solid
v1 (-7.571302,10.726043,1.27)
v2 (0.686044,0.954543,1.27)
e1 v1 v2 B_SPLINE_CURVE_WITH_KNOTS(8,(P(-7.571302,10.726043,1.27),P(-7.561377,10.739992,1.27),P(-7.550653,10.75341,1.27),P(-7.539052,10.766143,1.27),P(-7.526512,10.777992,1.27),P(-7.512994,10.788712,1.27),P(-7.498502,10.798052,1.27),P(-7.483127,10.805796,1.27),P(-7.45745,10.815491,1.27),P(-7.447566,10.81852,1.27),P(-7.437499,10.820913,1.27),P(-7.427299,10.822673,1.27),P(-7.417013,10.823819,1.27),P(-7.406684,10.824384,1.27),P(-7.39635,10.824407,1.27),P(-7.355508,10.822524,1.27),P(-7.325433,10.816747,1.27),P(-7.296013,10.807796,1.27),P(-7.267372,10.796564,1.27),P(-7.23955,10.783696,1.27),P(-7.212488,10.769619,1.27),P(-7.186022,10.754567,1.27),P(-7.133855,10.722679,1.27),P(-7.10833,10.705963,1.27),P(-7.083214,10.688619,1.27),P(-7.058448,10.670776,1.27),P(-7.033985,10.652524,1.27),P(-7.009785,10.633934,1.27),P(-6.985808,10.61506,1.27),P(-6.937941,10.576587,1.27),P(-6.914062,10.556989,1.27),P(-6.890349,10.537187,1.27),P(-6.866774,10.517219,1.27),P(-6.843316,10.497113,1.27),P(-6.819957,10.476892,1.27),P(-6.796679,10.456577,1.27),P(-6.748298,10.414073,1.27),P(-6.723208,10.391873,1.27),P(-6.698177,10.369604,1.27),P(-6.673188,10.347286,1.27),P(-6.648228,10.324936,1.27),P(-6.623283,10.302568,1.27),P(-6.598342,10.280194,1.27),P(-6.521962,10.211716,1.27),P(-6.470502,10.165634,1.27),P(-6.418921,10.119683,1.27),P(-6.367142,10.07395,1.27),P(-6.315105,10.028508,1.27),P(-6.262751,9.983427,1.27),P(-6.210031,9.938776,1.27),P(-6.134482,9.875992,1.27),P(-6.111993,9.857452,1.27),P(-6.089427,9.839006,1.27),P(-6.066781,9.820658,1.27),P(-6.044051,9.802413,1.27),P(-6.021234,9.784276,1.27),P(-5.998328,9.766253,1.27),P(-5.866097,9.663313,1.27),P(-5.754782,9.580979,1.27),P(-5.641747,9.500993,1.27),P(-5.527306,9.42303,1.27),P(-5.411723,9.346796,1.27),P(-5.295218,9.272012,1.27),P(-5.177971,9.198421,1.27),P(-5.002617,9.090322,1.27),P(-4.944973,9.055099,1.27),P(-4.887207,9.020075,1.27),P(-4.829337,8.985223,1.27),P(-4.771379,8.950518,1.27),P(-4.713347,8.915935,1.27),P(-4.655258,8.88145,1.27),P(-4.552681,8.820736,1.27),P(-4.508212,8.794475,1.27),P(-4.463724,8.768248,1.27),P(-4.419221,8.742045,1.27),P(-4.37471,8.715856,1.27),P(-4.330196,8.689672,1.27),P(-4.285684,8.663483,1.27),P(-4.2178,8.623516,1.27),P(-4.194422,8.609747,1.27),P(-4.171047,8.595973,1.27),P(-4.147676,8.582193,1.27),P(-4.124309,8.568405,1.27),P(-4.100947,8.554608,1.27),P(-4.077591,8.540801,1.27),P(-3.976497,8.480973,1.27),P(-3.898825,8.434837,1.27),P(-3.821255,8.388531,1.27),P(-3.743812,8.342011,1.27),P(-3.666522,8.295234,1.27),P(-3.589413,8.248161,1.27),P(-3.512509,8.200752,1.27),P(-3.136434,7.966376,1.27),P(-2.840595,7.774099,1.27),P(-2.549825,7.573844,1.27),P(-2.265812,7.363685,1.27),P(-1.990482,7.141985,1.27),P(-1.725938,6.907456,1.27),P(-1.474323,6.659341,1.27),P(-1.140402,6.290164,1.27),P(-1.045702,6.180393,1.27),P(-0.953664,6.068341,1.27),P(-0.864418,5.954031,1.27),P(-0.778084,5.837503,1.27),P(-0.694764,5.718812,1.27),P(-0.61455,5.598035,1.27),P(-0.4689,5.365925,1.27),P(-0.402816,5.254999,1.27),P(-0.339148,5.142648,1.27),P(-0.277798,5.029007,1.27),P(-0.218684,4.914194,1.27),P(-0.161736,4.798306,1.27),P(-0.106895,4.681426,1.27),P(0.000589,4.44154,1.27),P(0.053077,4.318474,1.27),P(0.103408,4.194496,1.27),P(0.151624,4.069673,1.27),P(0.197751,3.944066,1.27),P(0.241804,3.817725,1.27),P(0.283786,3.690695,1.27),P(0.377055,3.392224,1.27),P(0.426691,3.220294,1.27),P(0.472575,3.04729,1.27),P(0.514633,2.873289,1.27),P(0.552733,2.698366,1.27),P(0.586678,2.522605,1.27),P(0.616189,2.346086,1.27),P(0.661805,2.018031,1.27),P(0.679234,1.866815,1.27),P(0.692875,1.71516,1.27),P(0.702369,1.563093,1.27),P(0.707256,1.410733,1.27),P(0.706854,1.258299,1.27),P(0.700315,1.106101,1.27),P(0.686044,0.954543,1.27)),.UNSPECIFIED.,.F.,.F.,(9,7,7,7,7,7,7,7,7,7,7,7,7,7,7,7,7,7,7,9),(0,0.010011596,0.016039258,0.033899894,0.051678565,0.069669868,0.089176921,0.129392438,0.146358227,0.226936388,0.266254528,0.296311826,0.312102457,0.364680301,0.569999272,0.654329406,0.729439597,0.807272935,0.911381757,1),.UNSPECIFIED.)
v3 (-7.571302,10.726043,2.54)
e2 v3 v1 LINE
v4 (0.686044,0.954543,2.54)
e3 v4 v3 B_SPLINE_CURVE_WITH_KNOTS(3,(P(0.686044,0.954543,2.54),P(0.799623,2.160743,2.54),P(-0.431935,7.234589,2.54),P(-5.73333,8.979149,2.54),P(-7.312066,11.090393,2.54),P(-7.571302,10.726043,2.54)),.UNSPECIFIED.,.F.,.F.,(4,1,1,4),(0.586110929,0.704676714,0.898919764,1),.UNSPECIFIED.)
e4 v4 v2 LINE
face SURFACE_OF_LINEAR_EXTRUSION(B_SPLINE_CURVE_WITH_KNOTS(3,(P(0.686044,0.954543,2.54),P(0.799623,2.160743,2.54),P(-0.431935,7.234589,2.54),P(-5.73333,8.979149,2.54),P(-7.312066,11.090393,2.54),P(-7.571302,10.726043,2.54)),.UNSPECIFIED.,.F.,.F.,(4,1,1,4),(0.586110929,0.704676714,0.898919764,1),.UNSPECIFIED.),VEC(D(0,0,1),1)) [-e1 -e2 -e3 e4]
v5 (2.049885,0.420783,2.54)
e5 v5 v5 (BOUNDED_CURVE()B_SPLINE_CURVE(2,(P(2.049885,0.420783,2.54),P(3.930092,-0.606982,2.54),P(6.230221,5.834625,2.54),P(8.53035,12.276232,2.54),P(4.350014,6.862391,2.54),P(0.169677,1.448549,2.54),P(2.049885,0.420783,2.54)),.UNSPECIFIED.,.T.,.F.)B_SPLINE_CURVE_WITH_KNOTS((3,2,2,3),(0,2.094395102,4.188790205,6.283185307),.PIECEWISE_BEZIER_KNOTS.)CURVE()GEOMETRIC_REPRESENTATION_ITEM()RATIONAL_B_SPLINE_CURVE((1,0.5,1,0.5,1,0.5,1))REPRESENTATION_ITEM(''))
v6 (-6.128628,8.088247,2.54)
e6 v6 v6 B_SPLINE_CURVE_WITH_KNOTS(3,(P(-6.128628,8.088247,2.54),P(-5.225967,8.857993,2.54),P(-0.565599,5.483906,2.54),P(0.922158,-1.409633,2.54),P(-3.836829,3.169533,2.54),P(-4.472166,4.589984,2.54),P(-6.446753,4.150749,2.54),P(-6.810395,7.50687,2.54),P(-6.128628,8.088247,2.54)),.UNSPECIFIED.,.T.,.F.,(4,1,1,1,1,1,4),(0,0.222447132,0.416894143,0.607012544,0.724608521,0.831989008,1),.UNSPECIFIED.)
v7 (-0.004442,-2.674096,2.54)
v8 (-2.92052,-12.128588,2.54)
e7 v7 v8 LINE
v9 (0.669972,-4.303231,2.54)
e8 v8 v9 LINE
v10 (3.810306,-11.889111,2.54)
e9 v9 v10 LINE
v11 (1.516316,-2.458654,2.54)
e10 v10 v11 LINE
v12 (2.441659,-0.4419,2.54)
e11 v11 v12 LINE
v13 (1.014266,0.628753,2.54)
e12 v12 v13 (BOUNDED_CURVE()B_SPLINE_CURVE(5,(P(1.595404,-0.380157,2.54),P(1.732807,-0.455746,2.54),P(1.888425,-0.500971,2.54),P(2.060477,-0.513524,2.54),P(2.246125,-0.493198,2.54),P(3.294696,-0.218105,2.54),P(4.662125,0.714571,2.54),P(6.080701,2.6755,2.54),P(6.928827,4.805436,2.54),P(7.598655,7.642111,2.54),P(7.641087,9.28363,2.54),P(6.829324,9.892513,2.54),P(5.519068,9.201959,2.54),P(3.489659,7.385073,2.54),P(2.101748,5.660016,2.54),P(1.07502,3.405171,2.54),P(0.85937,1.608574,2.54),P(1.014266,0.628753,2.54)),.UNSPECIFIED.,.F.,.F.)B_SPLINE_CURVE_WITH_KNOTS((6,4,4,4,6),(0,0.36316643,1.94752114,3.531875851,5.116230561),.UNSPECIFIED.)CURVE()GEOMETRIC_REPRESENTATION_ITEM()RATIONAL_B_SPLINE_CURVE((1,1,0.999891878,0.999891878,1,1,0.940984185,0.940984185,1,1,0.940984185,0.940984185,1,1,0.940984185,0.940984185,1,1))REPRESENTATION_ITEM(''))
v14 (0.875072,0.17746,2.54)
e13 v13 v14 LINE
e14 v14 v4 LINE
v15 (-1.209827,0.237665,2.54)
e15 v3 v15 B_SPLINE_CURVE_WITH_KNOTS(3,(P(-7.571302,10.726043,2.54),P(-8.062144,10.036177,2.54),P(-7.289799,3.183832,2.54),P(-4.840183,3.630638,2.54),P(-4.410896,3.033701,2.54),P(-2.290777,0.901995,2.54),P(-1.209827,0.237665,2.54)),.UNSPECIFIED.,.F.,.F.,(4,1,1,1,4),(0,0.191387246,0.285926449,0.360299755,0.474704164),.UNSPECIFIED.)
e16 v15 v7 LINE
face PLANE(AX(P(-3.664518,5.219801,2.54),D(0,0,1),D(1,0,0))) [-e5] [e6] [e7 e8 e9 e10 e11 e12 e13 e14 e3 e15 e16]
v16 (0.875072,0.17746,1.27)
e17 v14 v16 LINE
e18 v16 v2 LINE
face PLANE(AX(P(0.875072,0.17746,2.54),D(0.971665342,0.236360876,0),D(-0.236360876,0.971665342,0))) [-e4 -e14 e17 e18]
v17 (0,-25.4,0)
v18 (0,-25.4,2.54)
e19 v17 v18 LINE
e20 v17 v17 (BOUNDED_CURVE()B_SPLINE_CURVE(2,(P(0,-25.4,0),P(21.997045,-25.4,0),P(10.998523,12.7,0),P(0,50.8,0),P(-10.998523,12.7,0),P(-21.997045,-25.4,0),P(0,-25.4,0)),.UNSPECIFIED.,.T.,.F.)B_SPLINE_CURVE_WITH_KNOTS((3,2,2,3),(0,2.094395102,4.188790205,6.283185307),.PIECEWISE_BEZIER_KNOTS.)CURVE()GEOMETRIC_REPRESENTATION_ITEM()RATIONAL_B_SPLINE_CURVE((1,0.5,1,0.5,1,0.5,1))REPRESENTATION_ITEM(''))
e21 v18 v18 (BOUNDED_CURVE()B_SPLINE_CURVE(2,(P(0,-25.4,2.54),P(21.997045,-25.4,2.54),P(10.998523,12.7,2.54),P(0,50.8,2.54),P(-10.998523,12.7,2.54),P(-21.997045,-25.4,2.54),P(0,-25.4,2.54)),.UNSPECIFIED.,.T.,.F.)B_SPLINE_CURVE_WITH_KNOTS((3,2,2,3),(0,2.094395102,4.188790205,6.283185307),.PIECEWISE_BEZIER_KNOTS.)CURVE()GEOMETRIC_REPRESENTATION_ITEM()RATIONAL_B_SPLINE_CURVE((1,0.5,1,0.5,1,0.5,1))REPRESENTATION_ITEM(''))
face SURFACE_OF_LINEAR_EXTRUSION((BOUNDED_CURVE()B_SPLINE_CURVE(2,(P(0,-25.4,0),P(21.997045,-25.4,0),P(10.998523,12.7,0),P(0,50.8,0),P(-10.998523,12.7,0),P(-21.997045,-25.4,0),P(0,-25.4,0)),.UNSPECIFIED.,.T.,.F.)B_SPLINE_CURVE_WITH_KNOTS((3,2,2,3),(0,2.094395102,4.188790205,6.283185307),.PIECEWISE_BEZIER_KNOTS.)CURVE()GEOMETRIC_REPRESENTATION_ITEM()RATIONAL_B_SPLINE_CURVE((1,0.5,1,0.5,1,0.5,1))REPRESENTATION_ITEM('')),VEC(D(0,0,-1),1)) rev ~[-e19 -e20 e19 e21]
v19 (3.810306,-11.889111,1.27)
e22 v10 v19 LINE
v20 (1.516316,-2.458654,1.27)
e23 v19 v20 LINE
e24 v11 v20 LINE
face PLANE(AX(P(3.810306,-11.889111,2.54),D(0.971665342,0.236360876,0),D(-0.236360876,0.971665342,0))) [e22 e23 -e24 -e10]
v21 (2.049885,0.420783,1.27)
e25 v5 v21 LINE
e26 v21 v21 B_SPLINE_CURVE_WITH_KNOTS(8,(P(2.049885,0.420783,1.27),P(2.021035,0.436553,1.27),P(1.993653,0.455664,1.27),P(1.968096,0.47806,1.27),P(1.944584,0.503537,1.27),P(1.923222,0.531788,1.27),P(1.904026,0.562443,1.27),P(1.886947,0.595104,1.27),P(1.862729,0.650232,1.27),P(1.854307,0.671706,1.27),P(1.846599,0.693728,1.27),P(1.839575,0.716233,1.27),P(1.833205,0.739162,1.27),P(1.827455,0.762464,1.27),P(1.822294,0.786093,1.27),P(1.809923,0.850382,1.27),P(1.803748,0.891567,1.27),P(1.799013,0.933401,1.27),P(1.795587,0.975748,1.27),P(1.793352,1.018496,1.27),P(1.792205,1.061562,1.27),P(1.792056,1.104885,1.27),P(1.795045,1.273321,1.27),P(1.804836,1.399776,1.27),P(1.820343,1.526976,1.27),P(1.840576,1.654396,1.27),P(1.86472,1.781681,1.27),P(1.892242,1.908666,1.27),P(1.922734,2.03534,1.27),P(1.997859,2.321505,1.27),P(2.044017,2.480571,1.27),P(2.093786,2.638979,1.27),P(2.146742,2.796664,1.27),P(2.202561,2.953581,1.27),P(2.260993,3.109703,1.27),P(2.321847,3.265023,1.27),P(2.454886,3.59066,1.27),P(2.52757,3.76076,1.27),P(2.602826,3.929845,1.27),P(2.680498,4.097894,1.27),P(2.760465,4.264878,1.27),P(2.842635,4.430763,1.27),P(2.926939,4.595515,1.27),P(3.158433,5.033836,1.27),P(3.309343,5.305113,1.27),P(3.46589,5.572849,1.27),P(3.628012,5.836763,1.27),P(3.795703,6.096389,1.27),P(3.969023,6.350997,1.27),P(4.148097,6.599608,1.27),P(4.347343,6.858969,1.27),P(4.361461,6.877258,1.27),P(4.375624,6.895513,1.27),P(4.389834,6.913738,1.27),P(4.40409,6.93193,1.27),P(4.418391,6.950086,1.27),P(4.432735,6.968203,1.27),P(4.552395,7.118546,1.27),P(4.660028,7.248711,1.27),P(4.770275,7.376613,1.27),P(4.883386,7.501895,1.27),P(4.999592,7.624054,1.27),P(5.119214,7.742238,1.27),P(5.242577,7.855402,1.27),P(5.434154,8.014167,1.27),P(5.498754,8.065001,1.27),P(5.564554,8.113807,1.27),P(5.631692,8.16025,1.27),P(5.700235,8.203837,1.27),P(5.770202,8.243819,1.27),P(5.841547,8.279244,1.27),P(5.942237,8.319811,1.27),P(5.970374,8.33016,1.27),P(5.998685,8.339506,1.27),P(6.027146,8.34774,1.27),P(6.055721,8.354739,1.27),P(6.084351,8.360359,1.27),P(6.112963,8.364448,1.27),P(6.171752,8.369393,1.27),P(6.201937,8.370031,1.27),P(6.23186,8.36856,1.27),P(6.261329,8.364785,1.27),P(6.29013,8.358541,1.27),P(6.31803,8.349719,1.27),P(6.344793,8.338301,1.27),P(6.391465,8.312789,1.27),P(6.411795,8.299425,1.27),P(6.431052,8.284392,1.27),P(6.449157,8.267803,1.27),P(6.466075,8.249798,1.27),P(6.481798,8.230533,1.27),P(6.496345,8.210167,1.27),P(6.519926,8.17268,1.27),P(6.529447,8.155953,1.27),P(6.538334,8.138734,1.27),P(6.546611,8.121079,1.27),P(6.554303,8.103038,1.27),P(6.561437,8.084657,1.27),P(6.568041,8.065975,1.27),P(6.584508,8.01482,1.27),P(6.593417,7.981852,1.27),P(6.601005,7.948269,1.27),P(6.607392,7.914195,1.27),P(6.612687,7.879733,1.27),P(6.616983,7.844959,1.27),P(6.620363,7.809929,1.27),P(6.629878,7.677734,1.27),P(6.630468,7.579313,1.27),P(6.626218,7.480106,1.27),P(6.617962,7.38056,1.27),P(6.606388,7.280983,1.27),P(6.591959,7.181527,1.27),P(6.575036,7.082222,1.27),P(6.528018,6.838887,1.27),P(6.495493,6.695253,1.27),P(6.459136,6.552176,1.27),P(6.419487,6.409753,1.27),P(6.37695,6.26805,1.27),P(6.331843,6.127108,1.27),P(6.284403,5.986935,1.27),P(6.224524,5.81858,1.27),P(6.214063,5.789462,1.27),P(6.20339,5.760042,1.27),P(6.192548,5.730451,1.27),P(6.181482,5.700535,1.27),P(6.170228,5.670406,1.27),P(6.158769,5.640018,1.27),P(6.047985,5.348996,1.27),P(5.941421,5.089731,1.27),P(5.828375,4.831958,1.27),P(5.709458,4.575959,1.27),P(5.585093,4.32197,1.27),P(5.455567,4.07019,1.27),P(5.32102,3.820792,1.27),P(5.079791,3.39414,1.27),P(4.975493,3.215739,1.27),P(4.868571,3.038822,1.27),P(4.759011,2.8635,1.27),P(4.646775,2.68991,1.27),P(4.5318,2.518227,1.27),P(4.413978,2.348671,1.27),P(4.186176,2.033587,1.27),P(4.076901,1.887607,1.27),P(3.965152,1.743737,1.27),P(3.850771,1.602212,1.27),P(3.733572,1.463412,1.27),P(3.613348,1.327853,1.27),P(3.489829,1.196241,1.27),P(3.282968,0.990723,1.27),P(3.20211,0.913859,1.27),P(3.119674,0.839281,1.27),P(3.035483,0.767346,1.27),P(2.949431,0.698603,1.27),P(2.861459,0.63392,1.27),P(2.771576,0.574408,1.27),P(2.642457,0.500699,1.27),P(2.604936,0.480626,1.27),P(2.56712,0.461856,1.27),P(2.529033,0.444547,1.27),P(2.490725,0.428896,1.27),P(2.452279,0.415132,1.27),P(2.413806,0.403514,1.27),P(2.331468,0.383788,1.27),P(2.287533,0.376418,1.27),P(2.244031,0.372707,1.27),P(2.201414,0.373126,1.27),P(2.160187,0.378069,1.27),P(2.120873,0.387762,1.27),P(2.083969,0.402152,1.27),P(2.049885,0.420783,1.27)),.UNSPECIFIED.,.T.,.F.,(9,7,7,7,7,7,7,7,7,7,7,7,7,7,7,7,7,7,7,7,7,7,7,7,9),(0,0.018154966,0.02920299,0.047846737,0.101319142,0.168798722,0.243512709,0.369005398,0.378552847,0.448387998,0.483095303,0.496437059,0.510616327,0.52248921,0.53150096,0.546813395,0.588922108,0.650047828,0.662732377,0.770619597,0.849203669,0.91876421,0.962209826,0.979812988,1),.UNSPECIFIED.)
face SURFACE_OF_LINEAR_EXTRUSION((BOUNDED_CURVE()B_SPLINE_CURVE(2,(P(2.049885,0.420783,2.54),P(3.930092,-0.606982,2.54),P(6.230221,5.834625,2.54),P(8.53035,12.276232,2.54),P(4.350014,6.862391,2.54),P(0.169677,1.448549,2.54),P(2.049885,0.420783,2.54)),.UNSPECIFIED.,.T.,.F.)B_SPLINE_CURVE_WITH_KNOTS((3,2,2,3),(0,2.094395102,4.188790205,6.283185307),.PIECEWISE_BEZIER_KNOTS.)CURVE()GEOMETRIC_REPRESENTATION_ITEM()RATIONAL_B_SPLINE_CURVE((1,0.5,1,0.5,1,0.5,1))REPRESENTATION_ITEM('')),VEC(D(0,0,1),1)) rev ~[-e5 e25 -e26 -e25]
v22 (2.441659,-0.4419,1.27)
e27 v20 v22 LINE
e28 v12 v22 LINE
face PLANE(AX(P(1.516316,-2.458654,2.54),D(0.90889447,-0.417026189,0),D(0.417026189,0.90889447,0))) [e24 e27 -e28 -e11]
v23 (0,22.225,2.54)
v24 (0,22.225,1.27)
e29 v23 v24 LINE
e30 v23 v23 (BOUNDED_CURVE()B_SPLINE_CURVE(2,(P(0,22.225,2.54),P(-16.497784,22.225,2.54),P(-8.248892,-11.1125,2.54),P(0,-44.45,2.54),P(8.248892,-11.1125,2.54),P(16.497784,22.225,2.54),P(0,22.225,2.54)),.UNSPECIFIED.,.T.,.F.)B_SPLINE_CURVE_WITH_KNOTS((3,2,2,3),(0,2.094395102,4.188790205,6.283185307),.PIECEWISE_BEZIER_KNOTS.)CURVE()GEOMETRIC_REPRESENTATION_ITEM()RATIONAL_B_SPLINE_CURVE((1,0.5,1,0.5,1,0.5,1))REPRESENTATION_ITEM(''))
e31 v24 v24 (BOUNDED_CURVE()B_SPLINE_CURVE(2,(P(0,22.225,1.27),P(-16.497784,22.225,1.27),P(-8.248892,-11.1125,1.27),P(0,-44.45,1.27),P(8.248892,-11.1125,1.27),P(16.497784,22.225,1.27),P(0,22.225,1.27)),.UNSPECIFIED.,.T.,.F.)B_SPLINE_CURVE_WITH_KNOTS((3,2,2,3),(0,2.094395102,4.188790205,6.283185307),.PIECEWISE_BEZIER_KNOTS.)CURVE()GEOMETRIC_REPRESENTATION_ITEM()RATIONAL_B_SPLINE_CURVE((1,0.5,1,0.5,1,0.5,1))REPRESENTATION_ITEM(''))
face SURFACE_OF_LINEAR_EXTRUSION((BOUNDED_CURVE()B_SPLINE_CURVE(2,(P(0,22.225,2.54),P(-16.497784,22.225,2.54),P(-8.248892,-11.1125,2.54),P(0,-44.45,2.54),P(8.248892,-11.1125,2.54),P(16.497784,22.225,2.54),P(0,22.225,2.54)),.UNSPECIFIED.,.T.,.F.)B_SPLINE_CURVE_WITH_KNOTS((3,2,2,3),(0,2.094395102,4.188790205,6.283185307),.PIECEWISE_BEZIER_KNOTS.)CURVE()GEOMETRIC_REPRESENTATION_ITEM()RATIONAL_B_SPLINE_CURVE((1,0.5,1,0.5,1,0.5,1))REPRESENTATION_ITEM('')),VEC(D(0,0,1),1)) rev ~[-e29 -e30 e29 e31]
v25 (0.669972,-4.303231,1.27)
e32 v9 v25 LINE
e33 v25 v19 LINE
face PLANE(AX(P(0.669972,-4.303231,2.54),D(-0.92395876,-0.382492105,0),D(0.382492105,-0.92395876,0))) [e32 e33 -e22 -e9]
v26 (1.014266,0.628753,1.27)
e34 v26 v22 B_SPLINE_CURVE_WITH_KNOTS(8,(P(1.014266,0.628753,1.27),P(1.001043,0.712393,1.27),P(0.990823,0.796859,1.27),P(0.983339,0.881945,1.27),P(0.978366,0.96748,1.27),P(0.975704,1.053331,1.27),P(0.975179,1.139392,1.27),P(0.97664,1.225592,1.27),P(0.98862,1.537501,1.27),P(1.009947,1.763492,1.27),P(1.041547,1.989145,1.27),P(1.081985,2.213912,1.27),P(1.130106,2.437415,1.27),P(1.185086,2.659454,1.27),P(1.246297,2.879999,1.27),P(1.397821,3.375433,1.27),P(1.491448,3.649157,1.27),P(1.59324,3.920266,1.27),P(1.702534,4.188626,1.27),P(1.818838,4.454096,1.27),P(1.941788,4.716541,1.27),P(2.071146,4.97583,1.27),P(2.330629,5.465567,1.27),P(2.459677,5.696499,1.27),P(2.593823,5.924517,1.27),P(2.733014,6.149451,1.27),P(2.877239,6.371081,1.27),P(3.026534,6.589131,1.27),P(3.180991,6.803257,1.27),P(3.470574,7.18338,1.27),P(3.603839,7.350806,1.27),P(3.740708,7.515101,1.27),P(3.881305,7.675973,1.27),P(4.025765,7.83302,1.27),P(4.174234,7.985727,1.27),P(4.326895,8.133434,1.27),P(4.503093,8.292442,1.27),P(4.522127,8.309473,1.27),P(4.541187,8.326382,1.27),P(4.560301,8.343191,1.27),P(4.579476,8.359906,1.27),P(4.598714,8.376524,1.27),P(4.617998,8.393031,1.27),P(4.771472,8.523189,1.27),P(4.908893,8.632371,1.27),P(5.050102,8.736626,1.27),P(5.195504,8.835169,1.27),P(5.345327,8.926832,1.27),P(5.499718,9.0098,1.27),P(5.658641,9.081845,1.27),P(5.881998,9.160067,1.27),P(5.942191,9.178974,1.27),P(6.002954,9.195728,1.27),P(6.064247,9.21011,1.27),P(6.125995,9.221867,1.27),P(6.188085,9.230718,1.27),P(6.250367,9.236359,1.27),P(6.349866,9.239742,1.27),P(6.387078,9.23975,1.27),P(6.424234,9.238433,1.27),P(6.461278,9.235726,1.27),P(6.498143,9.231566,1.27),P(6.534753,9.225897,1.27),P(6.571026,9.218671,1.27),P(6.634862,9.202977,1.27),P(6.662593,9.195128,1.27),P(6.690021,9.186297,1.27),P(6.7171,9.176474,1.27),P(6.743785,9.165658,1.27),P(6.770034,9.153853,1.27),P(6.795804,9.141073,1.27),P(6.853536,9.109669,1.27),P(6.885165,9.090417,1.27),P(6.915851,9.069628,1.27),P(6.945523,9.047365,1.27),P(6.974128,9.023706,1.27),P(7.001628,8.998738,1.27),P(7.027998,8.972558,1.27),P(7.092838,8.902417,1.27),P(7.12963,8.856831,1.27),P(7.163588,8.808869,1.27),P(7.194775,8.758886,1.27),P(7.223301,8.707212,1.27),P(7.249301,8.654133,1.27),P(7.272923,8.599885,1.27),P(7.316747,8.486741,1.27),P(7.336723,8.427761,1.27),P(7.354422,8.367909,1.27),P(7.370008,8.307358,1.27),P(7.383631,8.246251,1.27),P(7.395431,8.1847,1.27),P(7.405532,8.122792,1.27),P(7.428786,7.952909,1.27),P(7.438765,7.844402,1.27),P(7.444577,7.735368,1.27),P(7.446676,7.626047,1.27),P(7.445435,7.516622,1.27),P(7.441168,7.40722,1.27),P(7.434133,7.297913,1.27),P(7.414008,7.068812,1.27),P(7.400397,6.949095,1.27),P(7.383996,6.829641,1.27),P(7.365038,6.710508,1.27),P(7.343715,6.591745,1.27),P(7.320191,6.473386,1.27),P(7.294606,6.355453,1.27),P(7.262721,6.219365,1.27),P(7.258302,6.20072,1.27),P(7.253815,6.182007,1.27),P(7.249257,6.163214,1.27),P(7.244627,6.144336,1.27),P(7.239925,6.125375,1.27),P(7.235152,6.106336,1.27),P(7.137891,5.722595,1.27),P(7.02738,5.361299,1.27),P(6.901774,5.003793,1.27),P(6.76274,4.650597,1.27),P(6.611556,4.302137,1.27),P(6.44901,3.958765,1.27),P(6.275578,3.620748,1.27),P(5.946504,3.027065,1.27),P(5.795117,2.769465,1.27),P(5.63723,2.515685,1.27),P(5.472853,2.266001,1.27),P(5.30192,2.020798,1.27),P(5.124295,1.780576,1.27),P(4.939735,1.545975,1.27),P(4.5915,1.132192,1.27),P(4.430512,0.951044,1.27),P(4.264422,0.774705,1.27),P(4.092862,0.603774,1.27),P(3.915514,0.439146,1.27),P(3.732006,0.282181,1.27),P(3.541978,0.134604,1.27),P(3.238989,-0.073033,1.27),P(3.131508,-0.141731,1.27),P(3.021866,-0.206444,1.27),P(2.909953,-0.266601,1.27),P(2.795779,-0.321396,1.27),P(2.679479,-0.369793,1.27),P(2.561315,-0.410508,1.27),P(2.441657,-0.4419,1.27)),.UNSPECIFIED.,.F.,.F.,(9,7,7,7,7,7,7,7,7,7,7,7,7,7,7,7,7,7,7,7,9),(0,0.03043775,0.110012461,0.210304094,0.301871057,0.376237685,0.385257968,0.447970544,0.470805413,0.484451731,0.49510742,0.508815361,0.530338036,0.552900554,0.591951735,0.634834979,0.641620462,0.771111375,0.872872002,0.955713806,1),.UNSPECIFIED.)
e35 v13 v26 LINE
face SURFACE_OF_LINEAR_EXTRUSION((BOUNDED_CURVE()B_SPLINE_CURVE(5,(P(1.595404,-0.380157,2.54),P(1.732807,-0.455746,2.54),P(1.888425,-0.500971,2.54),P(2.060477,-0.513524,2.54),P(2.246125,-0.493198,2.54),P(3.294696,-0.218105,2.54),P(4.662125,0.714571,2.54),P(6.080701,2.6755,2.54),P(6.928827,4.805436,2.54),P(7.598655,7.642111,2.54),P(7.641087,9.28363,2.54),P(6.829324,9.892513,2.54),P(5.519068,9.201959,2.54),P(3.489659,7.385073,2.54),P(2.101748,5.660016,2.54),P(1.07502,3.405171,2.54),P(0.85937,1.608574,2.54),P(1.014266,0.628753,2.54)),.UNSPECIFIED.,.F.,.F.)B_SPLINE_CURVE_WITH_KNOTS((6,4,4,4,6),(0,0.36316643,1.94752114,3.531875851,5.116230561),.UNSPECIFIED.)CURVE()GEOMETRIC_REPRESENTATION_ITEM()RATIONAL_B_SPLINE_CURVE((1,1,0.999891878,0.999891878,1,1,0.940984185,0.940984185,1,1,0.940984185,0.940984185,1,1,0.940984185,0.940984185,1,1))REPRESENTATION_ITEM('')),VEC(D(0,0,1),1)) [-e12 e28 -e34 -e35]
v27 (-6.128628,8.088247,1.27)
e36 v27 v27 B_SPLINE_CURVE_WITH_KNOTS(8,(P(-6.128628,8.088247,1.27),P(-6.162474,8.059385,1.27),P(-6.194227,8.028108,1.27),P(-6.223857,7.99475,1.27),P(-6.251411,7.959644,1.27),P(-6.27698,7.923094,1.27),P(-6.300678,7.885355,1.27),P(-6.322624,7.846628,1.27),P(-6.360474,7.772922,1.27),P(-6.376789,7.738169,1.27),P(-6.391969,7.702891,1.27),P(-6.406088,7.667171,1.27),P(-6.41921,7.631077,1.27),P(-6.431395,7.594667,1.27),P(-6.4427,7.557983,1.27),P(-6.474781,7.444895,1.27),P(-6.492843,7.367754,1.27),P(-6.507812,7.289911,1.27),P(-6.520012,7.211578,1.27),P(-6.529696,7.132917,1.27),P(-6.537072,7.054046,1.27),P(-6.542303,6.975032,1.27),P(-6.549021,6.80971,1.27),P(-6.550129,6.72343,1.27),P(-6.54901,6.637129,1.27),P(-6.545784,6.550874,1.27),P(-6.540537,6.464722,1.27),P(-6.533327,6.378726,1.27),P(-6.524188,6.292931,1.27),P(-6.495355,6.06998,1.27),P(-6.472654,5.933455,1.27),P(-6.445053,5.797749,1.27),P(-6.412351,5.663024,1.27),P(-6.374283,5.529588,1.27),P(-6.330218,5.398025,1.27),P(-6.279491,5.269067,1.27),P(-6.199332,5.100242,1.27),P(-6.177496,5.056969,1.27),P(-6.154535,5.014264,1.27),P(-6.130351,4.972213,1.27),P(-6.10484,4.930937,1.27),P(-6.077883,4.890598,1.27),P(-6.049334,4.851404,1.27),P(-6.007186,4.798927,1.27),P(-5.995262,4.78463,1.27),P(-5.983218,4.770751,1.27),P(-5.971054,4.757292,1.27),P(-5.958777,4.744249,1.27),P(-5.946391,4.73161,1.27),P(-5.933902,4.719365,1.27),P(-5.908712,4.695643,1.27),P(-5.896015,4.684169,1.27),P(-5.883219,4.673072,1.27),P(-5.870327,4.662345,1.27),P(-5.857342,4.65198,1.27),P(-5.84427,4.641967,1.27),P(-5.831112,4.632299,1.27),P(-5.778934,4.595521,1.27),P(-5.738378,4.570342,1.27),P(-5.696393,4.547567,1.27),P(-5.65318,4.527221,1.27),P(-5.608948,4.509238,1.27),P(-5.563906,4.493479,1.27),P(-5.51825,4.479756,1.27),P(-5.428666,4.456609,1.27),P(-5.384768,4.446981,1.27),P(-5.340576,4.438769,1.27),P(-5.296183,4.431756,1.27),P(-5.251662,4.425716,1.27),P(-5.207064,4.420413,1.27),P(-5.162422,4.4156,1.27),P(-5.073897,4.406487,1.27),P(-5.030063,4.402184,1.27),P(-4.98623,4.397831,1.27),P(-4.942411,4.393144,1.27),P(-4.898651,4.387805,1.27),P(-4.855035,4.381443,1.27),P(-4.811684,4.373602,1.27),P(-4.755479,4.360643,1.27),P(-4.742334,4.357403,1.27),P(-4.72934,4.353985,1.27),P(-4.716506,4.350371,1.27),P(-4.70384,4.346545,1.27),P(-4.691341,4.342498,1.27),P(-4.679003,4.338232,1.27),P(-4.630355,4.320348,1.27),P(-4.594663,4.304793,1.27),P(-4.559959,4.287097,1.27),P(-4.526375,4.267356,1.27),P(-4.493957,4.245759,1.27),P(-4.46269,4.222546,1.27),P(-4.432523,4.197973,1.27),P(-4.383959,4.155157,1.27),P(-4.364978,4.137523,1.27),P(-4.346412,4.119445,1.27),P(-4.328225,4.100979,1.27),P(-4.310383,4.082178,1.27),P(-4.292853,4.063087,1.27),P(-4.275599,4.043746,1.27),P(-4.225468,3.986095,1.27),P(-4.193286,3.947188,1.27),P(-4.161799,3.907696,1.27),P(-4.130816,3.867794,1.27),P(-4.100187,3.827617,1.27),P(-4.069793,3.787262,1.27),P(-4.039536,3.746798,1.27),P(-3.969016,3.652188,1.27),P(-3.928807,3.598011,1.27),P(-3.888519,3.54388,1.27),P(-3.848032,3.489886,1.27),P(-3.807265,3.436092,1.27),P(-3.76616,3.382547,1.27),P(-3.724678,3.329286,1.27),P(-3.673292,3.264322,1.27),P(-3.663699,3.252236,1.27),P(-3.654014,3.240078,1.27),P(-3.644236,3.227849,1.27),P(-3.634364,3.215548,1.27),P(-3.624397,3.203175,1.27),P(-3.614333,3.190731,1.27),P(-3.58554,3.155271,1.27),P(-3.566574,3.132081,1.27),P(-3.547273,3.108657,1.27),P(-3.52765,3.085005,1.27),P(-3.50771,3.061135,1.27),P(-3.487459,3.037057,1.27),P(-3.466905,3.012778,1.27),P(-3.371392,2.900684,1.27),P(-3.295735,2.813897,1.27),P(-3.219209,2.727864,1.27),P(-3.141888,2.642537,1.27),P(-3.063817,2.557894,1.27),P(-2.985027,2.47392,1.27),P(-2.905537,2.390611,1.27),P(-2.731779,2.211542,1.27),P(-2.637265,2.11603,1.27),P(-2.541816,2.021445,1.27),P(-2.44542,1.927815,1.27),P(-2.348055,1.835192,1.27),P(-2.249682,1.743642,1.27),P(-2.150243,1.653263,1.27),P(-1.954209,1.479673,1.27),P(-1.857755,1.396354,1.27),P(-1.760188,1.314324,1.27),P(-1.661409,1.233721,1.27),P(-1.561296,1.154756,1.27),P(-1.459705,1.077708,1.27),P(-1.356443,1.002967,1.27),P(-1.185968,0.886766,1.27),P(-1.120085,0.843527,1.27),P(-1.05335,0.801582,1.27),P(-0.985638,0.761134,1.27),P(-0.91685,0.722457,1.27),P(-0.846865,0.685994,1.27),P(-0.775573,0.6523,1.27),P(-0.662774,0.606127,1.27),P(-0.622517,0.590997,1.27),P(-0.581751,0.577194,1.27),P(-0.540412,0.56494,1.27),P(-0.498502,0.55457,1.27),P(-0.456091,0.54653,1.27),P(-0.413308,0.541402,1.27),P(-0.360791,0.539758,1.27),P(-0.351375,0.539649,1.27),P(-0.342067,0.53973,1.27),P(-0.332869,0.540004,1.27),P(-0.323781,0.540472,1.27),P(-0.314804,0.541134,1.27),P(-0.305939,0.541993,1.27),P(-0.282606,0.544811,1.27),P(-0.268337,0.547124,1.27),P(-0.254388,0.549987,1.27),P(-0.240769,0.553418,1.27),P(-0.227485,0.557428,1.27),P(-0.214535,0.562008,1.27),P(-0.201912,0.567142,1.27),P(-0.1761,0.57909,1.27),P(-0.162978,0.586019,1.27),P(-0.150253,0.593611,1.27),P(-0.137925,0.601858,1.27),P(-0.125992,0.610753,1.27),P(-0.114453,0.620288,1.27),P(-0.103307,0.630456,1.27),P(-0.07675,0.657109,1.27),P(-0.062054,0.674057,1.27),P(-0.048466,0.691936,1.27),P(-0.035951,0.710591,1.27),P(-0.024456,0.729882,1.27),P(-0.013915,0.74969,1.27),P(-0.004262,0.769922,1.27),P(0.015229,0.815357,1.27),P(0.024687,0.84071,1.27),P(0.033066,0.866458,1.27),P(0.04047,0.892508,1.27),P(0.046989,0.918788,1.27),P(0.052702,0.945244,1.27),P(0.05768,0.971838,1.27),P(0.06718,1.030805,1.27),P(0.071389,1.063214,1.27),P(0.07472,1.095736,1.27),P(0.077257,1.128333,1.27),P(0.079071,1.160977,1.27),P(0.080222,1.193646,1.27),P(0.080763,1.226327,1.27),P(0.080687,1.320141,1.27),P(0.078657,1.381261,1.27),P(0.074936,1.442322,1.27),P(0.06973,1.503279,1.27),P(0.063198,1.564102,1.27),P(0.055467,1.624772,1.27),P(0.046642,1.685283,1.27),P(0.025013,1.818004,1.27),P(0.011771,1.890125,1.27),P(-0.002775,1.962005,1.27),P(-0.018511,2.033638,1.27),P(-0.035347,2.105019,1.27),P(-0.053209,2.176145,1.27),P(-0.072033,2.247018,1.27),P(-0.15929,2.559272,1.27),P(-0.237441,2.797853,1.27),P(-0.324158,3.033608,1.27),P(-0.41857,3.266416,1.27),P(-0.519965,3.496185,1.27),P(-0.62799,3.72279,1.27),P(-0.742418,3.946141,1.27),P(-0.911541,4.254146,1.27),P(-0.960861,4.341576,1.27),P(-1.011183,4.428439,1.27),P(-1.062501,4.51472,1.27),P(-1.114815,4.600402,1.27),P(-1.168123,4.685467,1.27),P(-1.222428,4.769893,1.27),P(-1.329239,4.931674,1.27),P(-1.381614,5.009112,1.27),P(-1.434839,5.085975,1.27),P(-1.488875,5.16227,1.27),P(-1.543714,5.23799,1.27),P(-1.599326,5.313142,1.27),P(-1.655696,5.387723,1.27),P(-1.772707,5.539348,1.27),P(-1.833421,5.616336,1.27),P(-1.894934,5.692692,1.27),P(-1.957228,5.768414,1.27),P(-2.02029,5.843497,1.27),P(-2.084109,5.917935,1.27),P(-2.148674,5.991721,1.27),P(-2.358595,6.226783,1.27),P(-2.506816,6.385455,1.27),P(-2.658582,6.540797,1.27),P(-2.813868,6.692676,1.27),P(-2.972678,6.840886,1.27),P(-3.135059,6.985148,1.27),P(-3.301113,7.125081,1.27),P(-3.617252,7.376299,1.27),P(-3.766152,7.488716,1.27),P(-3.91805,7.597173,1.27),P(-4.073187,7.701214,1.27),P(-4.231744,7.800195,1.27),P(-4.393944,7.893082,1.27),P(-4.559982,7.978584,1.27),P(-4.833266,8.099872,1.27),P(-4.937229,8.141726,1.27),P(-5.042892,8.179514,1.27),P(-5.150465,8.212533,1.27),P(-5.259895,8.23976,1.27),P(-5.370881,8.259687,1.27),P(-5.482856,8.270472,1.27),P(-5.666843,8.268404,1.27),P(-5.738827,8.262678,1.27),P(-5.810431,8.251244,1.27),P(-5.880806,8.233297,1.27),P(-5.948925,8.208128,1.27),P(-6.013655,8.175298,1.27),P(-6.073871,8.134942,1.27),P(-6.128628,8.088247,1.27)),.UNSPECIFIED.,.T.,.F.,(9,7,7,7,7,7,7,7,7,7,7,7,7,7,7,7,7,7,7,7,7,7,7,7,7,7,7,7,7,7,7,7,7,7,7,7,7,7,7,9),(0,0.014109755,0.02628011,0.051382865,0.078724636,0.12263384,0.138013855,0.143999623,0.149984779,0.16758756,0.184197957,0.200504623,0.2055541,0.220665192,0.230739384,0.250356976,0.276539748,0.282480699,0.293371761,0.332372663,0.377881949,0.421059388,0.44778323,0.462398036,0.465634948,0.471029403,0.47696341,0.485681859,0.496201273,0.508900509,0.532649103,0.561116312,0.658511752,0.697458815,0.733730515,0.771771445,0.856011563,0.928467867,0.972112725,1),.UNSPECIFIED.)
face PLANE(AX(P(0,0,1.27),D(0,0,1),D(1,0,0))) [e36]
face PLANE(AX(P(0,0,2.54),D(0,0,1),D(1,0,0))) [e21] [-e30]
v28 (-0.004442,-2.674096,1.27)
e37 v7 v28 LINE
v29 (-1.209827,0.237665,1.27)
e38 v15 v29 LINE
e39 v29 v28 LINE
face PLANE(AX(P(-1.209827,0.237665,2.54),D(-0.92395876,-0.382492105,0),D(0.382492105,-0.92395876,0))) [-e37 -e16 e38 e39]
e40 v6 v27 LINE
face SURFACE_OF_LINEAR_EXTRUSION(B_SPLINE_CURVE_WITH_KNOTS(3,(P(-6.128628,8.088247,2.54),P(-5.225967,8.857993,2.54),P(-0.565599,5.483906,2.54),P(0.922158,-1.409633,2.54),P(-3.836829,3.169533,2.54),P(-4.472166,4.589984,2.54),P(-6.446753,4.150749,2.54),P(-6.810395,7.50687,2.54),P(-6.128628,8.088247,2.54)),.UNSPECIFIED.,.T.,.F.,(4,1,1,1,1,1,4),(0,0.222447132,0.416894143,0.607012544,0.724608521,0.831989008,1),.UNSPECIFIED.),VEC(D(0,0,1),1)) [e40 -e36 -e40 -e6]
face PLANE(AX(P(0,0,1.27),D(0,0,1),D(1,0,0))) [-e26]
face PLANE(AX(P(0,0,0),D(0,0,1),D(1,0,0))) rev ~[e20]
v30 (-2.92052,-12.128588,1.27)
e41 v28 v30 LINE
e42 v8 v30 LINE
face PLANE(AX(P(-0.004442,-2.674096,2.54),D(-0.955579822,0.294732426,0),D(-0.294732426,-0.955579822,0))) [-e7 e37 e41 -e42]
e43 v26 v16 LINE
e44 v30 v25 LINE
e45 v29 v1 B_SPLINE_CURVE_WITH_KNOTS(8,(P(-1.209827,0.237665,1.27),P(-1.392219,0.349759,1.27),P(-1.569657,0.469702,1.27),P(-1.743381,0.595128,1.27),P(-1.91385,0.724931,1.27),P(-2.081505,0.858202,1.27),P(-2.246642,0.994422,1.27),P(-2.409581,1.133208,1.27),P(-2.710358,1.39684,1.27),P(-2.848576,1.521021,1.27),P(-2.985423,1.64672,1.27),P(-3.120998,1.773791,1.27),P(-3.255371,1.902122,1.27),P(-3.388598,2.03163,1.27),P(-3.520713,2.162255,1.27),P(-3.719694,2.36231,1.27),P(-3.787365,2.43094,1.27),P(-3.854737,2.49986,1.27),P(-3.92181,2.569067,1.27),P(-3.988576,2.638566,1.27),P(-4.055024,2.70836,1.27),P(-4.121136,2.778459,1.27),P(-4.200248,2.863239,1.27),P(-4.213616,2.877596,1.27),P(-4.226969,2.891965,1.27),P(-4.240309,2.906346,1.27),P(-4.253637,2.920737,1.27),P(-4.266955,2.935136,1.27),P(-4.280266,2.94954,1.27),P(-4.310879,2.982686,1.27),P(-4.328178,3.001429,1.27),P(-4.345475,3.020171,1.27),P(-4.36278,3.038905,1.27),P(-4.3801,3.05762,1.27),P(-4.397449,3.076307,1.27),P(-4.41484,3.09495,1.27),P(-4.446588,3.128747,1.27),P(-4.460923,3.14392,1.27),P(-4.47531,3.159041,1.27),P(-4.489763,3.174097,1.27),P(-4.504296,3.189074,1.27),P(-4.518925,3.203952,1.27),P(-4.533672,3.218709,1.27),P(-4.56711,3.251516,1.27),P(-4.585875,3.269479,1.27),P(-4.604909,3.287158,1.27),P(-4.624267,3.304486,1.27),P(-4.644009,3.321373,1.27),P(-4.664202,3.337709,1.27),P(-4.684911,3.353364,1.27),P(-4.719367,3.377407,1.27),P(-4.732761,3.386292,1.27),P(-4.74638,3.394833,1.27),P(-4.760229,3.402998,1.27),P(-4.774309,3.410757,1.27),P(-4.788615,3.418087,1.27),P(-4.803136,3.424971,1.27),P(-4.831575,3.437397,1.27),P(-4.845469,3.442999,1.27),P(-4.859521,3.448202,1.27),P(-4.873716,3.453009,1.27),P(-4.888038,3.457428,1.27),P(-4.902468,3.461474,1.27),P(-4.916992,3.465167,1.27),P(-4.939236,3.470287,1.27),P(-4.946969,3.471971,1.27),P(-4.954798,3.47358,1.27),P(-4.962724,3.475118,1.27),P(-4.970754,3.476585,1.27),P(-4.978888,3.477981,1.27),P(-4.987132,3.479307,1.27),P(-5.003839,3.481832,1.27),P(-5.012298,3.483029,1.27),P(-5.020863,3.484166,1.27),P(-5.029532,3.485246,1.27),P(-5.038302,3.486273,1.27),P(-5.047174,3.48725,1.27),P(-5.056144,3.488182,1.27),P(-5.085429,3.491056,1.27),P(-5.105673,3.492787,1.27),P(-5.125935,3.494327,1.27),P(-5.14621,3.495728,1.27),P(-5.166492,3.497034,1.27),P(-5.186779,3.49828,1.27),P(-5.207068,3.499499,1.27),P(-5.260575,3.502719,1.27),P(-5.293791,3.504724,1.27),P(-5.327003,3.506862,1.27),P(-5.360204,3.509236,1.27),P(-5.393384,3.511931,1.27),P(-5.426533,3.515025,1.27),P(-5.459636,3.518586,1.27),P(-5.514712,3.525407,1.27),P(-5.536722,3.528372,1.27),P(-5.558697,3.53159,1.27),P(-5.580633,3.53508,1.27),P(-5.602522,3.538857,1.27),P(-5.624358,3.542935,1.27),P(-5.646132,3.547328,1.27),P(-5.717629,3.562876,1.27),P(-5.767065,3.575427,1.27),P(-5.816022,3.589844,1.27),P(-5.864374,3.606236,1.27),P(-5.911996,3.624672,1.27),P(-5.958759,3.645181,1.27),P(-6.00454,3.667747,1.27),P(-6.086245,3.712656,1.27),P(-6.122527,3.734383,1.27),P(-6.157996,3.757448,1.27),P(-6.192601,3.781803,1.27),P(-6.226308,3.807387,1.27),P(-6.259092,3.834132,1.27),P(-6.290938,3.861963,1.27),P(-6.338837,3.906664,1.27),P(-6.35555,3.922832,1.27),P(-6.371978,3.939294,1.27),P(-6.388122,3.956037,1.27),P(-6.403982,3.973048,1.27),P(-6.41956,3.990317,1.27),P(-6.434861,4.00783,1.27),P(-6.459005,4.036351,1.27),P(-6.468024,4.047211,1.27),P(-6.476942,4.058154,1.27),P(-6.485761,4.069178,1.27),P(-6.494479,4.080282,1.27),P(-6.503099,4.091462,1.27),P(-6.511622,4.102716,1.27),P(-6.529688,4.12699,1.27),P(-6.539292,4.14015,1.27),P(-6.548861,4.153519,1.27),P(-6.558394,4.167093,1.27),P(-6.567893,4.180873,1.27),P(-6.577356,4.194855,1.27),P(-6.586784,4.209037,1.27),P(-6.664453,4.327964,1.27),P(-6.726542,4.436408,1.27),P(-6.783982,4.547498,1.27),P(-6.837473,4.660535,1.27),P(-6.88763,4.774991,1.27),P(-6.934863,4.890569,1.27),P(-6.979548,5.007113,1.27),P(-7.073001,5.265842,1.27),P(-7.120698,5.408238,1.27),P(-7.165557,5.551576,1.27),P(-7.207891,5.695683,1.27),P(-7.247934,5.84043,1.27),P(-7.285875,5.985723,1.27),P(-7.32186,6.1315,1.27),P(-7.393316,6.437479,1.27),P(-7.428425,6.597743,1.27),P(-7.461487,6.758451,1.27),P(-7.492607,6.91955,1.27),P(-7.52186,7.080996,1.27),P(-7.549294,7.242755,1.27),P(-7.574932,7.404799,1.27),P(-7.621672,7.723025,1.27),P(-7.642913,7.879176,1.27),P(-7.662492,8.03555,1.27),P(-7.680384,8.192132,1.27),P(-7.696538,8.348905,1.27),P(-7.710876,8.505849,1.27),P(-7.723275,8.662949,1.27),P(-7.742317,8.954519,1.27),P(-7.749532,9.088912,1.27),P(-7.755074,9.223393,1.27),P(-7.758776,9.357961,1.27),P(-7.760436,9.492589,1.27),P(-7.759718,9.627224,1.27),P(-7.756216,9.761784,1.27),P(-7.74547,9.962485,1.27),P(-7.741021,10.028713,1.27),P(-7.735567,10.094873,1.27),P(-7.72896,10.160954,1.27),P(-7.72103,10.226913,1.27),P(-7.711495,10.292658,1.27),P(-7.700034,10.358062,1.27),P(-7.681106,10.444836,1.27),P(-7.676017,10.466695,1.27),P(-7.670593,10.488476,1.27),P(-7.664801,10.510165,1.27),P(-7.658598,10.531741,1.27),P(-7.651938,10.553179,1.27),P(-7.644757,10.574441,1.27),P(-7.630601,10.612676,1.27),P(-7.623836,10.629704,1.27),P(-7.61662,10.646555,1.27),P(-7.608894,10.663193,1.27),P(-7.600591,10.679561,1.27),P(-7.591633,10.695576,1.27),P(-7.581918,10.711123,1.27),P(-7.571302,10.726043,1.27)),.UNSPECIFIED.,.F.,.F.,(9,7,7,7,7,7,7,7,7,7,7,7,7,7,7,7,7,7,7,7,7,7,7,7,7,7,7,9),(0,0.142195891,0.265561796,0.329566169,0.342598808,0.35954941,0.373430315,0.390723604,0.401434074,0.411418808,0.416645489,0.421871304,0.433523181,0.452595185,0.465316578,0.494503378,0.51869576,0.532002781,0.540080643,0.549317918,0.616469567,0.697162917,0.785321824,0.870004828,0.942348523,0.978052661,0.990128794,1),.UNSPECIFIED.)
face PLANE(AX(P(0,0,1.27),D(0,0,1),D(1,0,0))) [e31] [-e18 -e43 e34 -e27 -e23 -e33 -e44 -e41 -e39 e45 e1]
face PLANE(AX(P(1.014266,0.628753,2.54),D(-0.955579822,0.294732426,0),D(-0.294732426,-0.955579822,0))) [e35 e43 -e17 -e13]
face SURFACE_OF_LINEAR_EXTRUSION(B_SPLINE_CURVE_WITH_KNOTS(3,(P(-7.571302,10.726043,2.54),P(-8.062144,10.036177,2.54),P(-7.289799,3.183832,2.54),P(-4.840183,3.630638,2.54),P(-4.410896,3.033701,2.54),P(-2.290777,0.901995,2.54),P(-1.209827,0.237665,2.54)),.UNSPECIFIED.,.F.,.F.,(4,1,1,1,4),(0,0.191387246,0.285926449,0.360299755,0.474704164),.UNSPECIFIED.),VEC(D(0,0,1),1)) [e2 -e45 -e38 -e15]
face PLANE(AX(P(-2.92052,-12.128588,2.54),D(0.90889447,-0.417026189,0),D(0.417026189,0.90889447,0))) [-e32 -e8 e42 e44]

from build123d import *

# Parameters (mm, degrees)
F1_DEPTH = 2.54
F3_DEPTH = 1.27
F5_DEPTH = 1.524


with BuildPart() as f1:
    # F0 (on Top) → F1 (new body)
    with BuildSketch(Plane.XY):
        with BuildLine():
            add(Edge.make_bspline(
                [(0, -25.4), (21.9970452561, -25.4), (10.9985226281, 12.7), (0, 50.8), (-10.9985226281, 12.7), (-21.9970452561, -25.4), (0, -25.4)],
                knots=[0, 0, 0, 2.0943951024, 2.0943951024, 4.1887902048, 4.1887902048, 6.2831853072, 6.2831853072, 6.2831853072], degree=2, weights=[1, 0.5, 1, 0.5, 1, 0.5, 1]))
        make_face()
    extrude(amount=F1_DEPTH)

    # F2 (on face) → F3 (cut)
    with BuildSketch(Plane.XY.offset(2.54)):
        with BuildLine():
            add(Edge.make_bspline(
                [(0, 22.225), (-16.4977839421, 22.225), (-8.248891971, -11.1125), (0, -44.45), (8.248891971, -11.1125), (16.4977839421, 22.225), (0, 22.225)],
                knots=[0, 0, 0, 2.0943951024, 2.0943951024, 4.1887902048, 4.1887902048, 6.2831853072, 6.2831853072, 6.2831853072], degree=2, weights=[1, 0.5, 1, 0.5, 1, 0.5, 1]))
        make_face()
    extrude(amount=-F3_DEPTH, mode=Mode.SUBTRACT)

    # F4 (on face) → F5 (join)
    with BuildSketch(Plane.XY.offset(2.54)):
        with BuildLine():
            add(Edge.make_bspline(
                [(0.6860438475, 0.9545434875), (0.7996234857, 2.1607432292), (-0.4319348292, 7.2345888125), (-5.7333299278, 8.9791487851), (-7.3120661829, 11.090392902), (-7.5713020162, 10.7260432266)],
                knots=[0.5861109288, 0.5861109288, 0.5861109288, 0.5861109288, 0.7046767141, 0.8989197638, 1, 1, 1, 1], degree=3))
            add(Edge.make_bspline(
                [(-7.5713020162, 10.7260432266), (-8.0621440854, 10.0361766048), (-7.2897990447, 3.1838316578), (-4.8401825191, 3.6306384153), (-4.410895876, 3.0337005261), (-2.2907774828, 0.9019950954), (-1.2098269229, 0.2376647049)],
                knots=[0, 0, 0, 0, 0.1913872463, 0.2859264494, 0.3602997552, 0.4747041638, 0.4747041638, 0.4747041638, 0.4747041638], degree=3))
            add(Edge.make_bspline(
                [(-1.2098269229, 0.2376647049), (-0.6952717942, -0.0785704887), (0.2628386826, -0.4345985633), (0.6314908564, 0.3751984145), (0.6860438475, 0.9545434875)],
                knots=[0.4747041638, 0.4747041638, 0.4747041638, 0.4747041638, 0.5291630608, 0.5861109288, 0.5861109288, 0.5861109288, 0.5861109288], degree=3))
        make_face()
        with BuildLine():
            add(Edge.make_bspline(
                [(-6.1286282198, 8.0882474855), (-5.2259672363, 8.8579934198), (-0.5655987622, 5.4839060661), (0.9221578949, -1.4096325762), (-3.8368287749, 3.169533463), (-4.4721663862, 4.5899837757), (-6.4467532612, 4.1507494527), (-6.8103945607, 7.5068698934), (-6.1286282198, 8.0882474855)],
                knots=[0, 0, 0, 0, 0.2224471318, 0.4168941435, 0.6070125439, 0.7246085205, 0.8319890082, 1, 1, 1, 1], degree=3))
        make_face(mode=Mode.SUBTRACT)
        with BuildLine():
            add(Edge.make_bspline(
                [(-1.2098269229, 0.2376647049), (-0.6952717942, -0.0785704887), (0.2628386826, -0.4345985633), (0.6314908564, 0.3751984145), (0.6860438475, 0.9545434875)],
                knots=[0.4747041638, 0.4747041638, 0.4747041638, 0.4747041638, 0.5291630608, 0.5861109288, 0.5861109288, 0.5861109288, 0.5861109288], degree=3))
            Line((-1.2098269229, 0.2376647049), (-0.0044423609, -2.674096377))
            Line((-0.0044423609, -2.674096377), (0.8750719951, 0.1774601439))
            Line((0.8750719951, 0.1774601439), (0.6860438475, 0.9545434875))
        make_face()
        Polygon((0.8750719951, 0.1774601439), (-0.0044423609, -2.674096377), (0.6699721306, -4.3032311205), (1.5163156669, -2.4586540161), align=None)
        Polygon((0.6699721306, -4.3032311205), (-0.0044423609, -2.674096377), (-2.9205202591, -12.1285878122), align=None)
        with BuildLine():
            Line((1.014265628, 0.6287529609), (0.8750719951, 0.1774601439))
            Line((0.8750719951, 0.1774601439), (1.5163156669, -2.4586540161))
            Line((1.5163156669, -2.4586540161), (2.4416587933, -0.441899978))
            add(Edge.make_bspline(
                [(1.5954042849, -0.3801568201), (1.9446535264, -0.572289438), (2.4416587933, -0.441899978)],
                knots=[0, 0, 0, 0.3631664302, 0.3631664302, 0.3631664302], degree=2, weights=[1, 0.9835590176, 1]))
            add(Edge.make_bspline(
                [(1.014265628, 0.6287529609), (1.1335978863, -0.1261030906), (1.5954042849, -0.3801568201)],
                knots=[5.8068440318, 5.8068440318, 5.8068440318, 6.2831853072, 6.2831853072, 6.2831853072], degree=2, weights=[1, 0.9717711935, 1]))
        make_face()
        Polygon((1.5163156669, -2.4586540161), (0.6699721306, -4.3032311205), (3.8103061567, -11.8891109213), align=None)
        with BuildLine():
            add(Edge.make_bspline(
                [(2.4416587933, -0.441899978), (5.9042730248, 0.466517759), (7.2637410545, 6.2237736061), (8.6232090841, 11.9810294533), (4.5043634376, 8.2935157255), (0.385517791, 4.6060019977), (1.014265628, 0.6287529609)],
                knots=[0.3631664302, 0.3631664302, 0.3631664302, 2.1777256307, 2.1777256307, 3.9922848312, 3.9922848312, 5.8068440318, 5.8068440318, 5.8068440318], degree=2, weights=[1, 0.6158912416, 1, 0.6158912416, 1, 0.6158912416, 1]))
            add(Edge.make_bspline(
                [(1.014265628, 0.6287529609), (1.1335978863, -0.1261030906), (1.5954042849, -0.3801568201)],
                knots=[5.8068440318, 5.8068440318, 5.8068440318, 6.2831853072, 6.2831853072, 6.2831853072], degree=2, weights=[1, 0.9717711935, 1]))
            add(Edge.make_bspline(
                [(1.5954042849, -0.3801568201), (1.9446535264, -0.572289438), (2.4416587933, -0.441899978)],
                knots=[0, 0, 0, 0.3631664302, 0.3631664302, 0.3631664302], degree=2, weights=[1, 0.9835590176, 1]))
        make_face()
        with BuildLine():
            add(Edge.make_bspline(
                [(2.0498848533, 0.4207834357), (3.9300924777, -0.6069820196), (6.2302214534, 5.8346251331), (8.5303504292, 12.2762322857), (4.350013829, 6.8623905884), (0.1696772289, 1.4485488911), (2.0498848533, 0.4207834357)],
                knots=[0, 0, 0, 2.0943951024, 2.0943951024, 4.1887902048, 4.1887902048, 6.2831853072, 6.2831853072, 6.2831853072], degree=2, weights=[1, 0.5, 1, 0.5, 1, 0.5, 1]))
        make_face(mode=Mode.SUBTRACT)
    extrude(amount=-F5_DEPTH)


solid = f1.part
